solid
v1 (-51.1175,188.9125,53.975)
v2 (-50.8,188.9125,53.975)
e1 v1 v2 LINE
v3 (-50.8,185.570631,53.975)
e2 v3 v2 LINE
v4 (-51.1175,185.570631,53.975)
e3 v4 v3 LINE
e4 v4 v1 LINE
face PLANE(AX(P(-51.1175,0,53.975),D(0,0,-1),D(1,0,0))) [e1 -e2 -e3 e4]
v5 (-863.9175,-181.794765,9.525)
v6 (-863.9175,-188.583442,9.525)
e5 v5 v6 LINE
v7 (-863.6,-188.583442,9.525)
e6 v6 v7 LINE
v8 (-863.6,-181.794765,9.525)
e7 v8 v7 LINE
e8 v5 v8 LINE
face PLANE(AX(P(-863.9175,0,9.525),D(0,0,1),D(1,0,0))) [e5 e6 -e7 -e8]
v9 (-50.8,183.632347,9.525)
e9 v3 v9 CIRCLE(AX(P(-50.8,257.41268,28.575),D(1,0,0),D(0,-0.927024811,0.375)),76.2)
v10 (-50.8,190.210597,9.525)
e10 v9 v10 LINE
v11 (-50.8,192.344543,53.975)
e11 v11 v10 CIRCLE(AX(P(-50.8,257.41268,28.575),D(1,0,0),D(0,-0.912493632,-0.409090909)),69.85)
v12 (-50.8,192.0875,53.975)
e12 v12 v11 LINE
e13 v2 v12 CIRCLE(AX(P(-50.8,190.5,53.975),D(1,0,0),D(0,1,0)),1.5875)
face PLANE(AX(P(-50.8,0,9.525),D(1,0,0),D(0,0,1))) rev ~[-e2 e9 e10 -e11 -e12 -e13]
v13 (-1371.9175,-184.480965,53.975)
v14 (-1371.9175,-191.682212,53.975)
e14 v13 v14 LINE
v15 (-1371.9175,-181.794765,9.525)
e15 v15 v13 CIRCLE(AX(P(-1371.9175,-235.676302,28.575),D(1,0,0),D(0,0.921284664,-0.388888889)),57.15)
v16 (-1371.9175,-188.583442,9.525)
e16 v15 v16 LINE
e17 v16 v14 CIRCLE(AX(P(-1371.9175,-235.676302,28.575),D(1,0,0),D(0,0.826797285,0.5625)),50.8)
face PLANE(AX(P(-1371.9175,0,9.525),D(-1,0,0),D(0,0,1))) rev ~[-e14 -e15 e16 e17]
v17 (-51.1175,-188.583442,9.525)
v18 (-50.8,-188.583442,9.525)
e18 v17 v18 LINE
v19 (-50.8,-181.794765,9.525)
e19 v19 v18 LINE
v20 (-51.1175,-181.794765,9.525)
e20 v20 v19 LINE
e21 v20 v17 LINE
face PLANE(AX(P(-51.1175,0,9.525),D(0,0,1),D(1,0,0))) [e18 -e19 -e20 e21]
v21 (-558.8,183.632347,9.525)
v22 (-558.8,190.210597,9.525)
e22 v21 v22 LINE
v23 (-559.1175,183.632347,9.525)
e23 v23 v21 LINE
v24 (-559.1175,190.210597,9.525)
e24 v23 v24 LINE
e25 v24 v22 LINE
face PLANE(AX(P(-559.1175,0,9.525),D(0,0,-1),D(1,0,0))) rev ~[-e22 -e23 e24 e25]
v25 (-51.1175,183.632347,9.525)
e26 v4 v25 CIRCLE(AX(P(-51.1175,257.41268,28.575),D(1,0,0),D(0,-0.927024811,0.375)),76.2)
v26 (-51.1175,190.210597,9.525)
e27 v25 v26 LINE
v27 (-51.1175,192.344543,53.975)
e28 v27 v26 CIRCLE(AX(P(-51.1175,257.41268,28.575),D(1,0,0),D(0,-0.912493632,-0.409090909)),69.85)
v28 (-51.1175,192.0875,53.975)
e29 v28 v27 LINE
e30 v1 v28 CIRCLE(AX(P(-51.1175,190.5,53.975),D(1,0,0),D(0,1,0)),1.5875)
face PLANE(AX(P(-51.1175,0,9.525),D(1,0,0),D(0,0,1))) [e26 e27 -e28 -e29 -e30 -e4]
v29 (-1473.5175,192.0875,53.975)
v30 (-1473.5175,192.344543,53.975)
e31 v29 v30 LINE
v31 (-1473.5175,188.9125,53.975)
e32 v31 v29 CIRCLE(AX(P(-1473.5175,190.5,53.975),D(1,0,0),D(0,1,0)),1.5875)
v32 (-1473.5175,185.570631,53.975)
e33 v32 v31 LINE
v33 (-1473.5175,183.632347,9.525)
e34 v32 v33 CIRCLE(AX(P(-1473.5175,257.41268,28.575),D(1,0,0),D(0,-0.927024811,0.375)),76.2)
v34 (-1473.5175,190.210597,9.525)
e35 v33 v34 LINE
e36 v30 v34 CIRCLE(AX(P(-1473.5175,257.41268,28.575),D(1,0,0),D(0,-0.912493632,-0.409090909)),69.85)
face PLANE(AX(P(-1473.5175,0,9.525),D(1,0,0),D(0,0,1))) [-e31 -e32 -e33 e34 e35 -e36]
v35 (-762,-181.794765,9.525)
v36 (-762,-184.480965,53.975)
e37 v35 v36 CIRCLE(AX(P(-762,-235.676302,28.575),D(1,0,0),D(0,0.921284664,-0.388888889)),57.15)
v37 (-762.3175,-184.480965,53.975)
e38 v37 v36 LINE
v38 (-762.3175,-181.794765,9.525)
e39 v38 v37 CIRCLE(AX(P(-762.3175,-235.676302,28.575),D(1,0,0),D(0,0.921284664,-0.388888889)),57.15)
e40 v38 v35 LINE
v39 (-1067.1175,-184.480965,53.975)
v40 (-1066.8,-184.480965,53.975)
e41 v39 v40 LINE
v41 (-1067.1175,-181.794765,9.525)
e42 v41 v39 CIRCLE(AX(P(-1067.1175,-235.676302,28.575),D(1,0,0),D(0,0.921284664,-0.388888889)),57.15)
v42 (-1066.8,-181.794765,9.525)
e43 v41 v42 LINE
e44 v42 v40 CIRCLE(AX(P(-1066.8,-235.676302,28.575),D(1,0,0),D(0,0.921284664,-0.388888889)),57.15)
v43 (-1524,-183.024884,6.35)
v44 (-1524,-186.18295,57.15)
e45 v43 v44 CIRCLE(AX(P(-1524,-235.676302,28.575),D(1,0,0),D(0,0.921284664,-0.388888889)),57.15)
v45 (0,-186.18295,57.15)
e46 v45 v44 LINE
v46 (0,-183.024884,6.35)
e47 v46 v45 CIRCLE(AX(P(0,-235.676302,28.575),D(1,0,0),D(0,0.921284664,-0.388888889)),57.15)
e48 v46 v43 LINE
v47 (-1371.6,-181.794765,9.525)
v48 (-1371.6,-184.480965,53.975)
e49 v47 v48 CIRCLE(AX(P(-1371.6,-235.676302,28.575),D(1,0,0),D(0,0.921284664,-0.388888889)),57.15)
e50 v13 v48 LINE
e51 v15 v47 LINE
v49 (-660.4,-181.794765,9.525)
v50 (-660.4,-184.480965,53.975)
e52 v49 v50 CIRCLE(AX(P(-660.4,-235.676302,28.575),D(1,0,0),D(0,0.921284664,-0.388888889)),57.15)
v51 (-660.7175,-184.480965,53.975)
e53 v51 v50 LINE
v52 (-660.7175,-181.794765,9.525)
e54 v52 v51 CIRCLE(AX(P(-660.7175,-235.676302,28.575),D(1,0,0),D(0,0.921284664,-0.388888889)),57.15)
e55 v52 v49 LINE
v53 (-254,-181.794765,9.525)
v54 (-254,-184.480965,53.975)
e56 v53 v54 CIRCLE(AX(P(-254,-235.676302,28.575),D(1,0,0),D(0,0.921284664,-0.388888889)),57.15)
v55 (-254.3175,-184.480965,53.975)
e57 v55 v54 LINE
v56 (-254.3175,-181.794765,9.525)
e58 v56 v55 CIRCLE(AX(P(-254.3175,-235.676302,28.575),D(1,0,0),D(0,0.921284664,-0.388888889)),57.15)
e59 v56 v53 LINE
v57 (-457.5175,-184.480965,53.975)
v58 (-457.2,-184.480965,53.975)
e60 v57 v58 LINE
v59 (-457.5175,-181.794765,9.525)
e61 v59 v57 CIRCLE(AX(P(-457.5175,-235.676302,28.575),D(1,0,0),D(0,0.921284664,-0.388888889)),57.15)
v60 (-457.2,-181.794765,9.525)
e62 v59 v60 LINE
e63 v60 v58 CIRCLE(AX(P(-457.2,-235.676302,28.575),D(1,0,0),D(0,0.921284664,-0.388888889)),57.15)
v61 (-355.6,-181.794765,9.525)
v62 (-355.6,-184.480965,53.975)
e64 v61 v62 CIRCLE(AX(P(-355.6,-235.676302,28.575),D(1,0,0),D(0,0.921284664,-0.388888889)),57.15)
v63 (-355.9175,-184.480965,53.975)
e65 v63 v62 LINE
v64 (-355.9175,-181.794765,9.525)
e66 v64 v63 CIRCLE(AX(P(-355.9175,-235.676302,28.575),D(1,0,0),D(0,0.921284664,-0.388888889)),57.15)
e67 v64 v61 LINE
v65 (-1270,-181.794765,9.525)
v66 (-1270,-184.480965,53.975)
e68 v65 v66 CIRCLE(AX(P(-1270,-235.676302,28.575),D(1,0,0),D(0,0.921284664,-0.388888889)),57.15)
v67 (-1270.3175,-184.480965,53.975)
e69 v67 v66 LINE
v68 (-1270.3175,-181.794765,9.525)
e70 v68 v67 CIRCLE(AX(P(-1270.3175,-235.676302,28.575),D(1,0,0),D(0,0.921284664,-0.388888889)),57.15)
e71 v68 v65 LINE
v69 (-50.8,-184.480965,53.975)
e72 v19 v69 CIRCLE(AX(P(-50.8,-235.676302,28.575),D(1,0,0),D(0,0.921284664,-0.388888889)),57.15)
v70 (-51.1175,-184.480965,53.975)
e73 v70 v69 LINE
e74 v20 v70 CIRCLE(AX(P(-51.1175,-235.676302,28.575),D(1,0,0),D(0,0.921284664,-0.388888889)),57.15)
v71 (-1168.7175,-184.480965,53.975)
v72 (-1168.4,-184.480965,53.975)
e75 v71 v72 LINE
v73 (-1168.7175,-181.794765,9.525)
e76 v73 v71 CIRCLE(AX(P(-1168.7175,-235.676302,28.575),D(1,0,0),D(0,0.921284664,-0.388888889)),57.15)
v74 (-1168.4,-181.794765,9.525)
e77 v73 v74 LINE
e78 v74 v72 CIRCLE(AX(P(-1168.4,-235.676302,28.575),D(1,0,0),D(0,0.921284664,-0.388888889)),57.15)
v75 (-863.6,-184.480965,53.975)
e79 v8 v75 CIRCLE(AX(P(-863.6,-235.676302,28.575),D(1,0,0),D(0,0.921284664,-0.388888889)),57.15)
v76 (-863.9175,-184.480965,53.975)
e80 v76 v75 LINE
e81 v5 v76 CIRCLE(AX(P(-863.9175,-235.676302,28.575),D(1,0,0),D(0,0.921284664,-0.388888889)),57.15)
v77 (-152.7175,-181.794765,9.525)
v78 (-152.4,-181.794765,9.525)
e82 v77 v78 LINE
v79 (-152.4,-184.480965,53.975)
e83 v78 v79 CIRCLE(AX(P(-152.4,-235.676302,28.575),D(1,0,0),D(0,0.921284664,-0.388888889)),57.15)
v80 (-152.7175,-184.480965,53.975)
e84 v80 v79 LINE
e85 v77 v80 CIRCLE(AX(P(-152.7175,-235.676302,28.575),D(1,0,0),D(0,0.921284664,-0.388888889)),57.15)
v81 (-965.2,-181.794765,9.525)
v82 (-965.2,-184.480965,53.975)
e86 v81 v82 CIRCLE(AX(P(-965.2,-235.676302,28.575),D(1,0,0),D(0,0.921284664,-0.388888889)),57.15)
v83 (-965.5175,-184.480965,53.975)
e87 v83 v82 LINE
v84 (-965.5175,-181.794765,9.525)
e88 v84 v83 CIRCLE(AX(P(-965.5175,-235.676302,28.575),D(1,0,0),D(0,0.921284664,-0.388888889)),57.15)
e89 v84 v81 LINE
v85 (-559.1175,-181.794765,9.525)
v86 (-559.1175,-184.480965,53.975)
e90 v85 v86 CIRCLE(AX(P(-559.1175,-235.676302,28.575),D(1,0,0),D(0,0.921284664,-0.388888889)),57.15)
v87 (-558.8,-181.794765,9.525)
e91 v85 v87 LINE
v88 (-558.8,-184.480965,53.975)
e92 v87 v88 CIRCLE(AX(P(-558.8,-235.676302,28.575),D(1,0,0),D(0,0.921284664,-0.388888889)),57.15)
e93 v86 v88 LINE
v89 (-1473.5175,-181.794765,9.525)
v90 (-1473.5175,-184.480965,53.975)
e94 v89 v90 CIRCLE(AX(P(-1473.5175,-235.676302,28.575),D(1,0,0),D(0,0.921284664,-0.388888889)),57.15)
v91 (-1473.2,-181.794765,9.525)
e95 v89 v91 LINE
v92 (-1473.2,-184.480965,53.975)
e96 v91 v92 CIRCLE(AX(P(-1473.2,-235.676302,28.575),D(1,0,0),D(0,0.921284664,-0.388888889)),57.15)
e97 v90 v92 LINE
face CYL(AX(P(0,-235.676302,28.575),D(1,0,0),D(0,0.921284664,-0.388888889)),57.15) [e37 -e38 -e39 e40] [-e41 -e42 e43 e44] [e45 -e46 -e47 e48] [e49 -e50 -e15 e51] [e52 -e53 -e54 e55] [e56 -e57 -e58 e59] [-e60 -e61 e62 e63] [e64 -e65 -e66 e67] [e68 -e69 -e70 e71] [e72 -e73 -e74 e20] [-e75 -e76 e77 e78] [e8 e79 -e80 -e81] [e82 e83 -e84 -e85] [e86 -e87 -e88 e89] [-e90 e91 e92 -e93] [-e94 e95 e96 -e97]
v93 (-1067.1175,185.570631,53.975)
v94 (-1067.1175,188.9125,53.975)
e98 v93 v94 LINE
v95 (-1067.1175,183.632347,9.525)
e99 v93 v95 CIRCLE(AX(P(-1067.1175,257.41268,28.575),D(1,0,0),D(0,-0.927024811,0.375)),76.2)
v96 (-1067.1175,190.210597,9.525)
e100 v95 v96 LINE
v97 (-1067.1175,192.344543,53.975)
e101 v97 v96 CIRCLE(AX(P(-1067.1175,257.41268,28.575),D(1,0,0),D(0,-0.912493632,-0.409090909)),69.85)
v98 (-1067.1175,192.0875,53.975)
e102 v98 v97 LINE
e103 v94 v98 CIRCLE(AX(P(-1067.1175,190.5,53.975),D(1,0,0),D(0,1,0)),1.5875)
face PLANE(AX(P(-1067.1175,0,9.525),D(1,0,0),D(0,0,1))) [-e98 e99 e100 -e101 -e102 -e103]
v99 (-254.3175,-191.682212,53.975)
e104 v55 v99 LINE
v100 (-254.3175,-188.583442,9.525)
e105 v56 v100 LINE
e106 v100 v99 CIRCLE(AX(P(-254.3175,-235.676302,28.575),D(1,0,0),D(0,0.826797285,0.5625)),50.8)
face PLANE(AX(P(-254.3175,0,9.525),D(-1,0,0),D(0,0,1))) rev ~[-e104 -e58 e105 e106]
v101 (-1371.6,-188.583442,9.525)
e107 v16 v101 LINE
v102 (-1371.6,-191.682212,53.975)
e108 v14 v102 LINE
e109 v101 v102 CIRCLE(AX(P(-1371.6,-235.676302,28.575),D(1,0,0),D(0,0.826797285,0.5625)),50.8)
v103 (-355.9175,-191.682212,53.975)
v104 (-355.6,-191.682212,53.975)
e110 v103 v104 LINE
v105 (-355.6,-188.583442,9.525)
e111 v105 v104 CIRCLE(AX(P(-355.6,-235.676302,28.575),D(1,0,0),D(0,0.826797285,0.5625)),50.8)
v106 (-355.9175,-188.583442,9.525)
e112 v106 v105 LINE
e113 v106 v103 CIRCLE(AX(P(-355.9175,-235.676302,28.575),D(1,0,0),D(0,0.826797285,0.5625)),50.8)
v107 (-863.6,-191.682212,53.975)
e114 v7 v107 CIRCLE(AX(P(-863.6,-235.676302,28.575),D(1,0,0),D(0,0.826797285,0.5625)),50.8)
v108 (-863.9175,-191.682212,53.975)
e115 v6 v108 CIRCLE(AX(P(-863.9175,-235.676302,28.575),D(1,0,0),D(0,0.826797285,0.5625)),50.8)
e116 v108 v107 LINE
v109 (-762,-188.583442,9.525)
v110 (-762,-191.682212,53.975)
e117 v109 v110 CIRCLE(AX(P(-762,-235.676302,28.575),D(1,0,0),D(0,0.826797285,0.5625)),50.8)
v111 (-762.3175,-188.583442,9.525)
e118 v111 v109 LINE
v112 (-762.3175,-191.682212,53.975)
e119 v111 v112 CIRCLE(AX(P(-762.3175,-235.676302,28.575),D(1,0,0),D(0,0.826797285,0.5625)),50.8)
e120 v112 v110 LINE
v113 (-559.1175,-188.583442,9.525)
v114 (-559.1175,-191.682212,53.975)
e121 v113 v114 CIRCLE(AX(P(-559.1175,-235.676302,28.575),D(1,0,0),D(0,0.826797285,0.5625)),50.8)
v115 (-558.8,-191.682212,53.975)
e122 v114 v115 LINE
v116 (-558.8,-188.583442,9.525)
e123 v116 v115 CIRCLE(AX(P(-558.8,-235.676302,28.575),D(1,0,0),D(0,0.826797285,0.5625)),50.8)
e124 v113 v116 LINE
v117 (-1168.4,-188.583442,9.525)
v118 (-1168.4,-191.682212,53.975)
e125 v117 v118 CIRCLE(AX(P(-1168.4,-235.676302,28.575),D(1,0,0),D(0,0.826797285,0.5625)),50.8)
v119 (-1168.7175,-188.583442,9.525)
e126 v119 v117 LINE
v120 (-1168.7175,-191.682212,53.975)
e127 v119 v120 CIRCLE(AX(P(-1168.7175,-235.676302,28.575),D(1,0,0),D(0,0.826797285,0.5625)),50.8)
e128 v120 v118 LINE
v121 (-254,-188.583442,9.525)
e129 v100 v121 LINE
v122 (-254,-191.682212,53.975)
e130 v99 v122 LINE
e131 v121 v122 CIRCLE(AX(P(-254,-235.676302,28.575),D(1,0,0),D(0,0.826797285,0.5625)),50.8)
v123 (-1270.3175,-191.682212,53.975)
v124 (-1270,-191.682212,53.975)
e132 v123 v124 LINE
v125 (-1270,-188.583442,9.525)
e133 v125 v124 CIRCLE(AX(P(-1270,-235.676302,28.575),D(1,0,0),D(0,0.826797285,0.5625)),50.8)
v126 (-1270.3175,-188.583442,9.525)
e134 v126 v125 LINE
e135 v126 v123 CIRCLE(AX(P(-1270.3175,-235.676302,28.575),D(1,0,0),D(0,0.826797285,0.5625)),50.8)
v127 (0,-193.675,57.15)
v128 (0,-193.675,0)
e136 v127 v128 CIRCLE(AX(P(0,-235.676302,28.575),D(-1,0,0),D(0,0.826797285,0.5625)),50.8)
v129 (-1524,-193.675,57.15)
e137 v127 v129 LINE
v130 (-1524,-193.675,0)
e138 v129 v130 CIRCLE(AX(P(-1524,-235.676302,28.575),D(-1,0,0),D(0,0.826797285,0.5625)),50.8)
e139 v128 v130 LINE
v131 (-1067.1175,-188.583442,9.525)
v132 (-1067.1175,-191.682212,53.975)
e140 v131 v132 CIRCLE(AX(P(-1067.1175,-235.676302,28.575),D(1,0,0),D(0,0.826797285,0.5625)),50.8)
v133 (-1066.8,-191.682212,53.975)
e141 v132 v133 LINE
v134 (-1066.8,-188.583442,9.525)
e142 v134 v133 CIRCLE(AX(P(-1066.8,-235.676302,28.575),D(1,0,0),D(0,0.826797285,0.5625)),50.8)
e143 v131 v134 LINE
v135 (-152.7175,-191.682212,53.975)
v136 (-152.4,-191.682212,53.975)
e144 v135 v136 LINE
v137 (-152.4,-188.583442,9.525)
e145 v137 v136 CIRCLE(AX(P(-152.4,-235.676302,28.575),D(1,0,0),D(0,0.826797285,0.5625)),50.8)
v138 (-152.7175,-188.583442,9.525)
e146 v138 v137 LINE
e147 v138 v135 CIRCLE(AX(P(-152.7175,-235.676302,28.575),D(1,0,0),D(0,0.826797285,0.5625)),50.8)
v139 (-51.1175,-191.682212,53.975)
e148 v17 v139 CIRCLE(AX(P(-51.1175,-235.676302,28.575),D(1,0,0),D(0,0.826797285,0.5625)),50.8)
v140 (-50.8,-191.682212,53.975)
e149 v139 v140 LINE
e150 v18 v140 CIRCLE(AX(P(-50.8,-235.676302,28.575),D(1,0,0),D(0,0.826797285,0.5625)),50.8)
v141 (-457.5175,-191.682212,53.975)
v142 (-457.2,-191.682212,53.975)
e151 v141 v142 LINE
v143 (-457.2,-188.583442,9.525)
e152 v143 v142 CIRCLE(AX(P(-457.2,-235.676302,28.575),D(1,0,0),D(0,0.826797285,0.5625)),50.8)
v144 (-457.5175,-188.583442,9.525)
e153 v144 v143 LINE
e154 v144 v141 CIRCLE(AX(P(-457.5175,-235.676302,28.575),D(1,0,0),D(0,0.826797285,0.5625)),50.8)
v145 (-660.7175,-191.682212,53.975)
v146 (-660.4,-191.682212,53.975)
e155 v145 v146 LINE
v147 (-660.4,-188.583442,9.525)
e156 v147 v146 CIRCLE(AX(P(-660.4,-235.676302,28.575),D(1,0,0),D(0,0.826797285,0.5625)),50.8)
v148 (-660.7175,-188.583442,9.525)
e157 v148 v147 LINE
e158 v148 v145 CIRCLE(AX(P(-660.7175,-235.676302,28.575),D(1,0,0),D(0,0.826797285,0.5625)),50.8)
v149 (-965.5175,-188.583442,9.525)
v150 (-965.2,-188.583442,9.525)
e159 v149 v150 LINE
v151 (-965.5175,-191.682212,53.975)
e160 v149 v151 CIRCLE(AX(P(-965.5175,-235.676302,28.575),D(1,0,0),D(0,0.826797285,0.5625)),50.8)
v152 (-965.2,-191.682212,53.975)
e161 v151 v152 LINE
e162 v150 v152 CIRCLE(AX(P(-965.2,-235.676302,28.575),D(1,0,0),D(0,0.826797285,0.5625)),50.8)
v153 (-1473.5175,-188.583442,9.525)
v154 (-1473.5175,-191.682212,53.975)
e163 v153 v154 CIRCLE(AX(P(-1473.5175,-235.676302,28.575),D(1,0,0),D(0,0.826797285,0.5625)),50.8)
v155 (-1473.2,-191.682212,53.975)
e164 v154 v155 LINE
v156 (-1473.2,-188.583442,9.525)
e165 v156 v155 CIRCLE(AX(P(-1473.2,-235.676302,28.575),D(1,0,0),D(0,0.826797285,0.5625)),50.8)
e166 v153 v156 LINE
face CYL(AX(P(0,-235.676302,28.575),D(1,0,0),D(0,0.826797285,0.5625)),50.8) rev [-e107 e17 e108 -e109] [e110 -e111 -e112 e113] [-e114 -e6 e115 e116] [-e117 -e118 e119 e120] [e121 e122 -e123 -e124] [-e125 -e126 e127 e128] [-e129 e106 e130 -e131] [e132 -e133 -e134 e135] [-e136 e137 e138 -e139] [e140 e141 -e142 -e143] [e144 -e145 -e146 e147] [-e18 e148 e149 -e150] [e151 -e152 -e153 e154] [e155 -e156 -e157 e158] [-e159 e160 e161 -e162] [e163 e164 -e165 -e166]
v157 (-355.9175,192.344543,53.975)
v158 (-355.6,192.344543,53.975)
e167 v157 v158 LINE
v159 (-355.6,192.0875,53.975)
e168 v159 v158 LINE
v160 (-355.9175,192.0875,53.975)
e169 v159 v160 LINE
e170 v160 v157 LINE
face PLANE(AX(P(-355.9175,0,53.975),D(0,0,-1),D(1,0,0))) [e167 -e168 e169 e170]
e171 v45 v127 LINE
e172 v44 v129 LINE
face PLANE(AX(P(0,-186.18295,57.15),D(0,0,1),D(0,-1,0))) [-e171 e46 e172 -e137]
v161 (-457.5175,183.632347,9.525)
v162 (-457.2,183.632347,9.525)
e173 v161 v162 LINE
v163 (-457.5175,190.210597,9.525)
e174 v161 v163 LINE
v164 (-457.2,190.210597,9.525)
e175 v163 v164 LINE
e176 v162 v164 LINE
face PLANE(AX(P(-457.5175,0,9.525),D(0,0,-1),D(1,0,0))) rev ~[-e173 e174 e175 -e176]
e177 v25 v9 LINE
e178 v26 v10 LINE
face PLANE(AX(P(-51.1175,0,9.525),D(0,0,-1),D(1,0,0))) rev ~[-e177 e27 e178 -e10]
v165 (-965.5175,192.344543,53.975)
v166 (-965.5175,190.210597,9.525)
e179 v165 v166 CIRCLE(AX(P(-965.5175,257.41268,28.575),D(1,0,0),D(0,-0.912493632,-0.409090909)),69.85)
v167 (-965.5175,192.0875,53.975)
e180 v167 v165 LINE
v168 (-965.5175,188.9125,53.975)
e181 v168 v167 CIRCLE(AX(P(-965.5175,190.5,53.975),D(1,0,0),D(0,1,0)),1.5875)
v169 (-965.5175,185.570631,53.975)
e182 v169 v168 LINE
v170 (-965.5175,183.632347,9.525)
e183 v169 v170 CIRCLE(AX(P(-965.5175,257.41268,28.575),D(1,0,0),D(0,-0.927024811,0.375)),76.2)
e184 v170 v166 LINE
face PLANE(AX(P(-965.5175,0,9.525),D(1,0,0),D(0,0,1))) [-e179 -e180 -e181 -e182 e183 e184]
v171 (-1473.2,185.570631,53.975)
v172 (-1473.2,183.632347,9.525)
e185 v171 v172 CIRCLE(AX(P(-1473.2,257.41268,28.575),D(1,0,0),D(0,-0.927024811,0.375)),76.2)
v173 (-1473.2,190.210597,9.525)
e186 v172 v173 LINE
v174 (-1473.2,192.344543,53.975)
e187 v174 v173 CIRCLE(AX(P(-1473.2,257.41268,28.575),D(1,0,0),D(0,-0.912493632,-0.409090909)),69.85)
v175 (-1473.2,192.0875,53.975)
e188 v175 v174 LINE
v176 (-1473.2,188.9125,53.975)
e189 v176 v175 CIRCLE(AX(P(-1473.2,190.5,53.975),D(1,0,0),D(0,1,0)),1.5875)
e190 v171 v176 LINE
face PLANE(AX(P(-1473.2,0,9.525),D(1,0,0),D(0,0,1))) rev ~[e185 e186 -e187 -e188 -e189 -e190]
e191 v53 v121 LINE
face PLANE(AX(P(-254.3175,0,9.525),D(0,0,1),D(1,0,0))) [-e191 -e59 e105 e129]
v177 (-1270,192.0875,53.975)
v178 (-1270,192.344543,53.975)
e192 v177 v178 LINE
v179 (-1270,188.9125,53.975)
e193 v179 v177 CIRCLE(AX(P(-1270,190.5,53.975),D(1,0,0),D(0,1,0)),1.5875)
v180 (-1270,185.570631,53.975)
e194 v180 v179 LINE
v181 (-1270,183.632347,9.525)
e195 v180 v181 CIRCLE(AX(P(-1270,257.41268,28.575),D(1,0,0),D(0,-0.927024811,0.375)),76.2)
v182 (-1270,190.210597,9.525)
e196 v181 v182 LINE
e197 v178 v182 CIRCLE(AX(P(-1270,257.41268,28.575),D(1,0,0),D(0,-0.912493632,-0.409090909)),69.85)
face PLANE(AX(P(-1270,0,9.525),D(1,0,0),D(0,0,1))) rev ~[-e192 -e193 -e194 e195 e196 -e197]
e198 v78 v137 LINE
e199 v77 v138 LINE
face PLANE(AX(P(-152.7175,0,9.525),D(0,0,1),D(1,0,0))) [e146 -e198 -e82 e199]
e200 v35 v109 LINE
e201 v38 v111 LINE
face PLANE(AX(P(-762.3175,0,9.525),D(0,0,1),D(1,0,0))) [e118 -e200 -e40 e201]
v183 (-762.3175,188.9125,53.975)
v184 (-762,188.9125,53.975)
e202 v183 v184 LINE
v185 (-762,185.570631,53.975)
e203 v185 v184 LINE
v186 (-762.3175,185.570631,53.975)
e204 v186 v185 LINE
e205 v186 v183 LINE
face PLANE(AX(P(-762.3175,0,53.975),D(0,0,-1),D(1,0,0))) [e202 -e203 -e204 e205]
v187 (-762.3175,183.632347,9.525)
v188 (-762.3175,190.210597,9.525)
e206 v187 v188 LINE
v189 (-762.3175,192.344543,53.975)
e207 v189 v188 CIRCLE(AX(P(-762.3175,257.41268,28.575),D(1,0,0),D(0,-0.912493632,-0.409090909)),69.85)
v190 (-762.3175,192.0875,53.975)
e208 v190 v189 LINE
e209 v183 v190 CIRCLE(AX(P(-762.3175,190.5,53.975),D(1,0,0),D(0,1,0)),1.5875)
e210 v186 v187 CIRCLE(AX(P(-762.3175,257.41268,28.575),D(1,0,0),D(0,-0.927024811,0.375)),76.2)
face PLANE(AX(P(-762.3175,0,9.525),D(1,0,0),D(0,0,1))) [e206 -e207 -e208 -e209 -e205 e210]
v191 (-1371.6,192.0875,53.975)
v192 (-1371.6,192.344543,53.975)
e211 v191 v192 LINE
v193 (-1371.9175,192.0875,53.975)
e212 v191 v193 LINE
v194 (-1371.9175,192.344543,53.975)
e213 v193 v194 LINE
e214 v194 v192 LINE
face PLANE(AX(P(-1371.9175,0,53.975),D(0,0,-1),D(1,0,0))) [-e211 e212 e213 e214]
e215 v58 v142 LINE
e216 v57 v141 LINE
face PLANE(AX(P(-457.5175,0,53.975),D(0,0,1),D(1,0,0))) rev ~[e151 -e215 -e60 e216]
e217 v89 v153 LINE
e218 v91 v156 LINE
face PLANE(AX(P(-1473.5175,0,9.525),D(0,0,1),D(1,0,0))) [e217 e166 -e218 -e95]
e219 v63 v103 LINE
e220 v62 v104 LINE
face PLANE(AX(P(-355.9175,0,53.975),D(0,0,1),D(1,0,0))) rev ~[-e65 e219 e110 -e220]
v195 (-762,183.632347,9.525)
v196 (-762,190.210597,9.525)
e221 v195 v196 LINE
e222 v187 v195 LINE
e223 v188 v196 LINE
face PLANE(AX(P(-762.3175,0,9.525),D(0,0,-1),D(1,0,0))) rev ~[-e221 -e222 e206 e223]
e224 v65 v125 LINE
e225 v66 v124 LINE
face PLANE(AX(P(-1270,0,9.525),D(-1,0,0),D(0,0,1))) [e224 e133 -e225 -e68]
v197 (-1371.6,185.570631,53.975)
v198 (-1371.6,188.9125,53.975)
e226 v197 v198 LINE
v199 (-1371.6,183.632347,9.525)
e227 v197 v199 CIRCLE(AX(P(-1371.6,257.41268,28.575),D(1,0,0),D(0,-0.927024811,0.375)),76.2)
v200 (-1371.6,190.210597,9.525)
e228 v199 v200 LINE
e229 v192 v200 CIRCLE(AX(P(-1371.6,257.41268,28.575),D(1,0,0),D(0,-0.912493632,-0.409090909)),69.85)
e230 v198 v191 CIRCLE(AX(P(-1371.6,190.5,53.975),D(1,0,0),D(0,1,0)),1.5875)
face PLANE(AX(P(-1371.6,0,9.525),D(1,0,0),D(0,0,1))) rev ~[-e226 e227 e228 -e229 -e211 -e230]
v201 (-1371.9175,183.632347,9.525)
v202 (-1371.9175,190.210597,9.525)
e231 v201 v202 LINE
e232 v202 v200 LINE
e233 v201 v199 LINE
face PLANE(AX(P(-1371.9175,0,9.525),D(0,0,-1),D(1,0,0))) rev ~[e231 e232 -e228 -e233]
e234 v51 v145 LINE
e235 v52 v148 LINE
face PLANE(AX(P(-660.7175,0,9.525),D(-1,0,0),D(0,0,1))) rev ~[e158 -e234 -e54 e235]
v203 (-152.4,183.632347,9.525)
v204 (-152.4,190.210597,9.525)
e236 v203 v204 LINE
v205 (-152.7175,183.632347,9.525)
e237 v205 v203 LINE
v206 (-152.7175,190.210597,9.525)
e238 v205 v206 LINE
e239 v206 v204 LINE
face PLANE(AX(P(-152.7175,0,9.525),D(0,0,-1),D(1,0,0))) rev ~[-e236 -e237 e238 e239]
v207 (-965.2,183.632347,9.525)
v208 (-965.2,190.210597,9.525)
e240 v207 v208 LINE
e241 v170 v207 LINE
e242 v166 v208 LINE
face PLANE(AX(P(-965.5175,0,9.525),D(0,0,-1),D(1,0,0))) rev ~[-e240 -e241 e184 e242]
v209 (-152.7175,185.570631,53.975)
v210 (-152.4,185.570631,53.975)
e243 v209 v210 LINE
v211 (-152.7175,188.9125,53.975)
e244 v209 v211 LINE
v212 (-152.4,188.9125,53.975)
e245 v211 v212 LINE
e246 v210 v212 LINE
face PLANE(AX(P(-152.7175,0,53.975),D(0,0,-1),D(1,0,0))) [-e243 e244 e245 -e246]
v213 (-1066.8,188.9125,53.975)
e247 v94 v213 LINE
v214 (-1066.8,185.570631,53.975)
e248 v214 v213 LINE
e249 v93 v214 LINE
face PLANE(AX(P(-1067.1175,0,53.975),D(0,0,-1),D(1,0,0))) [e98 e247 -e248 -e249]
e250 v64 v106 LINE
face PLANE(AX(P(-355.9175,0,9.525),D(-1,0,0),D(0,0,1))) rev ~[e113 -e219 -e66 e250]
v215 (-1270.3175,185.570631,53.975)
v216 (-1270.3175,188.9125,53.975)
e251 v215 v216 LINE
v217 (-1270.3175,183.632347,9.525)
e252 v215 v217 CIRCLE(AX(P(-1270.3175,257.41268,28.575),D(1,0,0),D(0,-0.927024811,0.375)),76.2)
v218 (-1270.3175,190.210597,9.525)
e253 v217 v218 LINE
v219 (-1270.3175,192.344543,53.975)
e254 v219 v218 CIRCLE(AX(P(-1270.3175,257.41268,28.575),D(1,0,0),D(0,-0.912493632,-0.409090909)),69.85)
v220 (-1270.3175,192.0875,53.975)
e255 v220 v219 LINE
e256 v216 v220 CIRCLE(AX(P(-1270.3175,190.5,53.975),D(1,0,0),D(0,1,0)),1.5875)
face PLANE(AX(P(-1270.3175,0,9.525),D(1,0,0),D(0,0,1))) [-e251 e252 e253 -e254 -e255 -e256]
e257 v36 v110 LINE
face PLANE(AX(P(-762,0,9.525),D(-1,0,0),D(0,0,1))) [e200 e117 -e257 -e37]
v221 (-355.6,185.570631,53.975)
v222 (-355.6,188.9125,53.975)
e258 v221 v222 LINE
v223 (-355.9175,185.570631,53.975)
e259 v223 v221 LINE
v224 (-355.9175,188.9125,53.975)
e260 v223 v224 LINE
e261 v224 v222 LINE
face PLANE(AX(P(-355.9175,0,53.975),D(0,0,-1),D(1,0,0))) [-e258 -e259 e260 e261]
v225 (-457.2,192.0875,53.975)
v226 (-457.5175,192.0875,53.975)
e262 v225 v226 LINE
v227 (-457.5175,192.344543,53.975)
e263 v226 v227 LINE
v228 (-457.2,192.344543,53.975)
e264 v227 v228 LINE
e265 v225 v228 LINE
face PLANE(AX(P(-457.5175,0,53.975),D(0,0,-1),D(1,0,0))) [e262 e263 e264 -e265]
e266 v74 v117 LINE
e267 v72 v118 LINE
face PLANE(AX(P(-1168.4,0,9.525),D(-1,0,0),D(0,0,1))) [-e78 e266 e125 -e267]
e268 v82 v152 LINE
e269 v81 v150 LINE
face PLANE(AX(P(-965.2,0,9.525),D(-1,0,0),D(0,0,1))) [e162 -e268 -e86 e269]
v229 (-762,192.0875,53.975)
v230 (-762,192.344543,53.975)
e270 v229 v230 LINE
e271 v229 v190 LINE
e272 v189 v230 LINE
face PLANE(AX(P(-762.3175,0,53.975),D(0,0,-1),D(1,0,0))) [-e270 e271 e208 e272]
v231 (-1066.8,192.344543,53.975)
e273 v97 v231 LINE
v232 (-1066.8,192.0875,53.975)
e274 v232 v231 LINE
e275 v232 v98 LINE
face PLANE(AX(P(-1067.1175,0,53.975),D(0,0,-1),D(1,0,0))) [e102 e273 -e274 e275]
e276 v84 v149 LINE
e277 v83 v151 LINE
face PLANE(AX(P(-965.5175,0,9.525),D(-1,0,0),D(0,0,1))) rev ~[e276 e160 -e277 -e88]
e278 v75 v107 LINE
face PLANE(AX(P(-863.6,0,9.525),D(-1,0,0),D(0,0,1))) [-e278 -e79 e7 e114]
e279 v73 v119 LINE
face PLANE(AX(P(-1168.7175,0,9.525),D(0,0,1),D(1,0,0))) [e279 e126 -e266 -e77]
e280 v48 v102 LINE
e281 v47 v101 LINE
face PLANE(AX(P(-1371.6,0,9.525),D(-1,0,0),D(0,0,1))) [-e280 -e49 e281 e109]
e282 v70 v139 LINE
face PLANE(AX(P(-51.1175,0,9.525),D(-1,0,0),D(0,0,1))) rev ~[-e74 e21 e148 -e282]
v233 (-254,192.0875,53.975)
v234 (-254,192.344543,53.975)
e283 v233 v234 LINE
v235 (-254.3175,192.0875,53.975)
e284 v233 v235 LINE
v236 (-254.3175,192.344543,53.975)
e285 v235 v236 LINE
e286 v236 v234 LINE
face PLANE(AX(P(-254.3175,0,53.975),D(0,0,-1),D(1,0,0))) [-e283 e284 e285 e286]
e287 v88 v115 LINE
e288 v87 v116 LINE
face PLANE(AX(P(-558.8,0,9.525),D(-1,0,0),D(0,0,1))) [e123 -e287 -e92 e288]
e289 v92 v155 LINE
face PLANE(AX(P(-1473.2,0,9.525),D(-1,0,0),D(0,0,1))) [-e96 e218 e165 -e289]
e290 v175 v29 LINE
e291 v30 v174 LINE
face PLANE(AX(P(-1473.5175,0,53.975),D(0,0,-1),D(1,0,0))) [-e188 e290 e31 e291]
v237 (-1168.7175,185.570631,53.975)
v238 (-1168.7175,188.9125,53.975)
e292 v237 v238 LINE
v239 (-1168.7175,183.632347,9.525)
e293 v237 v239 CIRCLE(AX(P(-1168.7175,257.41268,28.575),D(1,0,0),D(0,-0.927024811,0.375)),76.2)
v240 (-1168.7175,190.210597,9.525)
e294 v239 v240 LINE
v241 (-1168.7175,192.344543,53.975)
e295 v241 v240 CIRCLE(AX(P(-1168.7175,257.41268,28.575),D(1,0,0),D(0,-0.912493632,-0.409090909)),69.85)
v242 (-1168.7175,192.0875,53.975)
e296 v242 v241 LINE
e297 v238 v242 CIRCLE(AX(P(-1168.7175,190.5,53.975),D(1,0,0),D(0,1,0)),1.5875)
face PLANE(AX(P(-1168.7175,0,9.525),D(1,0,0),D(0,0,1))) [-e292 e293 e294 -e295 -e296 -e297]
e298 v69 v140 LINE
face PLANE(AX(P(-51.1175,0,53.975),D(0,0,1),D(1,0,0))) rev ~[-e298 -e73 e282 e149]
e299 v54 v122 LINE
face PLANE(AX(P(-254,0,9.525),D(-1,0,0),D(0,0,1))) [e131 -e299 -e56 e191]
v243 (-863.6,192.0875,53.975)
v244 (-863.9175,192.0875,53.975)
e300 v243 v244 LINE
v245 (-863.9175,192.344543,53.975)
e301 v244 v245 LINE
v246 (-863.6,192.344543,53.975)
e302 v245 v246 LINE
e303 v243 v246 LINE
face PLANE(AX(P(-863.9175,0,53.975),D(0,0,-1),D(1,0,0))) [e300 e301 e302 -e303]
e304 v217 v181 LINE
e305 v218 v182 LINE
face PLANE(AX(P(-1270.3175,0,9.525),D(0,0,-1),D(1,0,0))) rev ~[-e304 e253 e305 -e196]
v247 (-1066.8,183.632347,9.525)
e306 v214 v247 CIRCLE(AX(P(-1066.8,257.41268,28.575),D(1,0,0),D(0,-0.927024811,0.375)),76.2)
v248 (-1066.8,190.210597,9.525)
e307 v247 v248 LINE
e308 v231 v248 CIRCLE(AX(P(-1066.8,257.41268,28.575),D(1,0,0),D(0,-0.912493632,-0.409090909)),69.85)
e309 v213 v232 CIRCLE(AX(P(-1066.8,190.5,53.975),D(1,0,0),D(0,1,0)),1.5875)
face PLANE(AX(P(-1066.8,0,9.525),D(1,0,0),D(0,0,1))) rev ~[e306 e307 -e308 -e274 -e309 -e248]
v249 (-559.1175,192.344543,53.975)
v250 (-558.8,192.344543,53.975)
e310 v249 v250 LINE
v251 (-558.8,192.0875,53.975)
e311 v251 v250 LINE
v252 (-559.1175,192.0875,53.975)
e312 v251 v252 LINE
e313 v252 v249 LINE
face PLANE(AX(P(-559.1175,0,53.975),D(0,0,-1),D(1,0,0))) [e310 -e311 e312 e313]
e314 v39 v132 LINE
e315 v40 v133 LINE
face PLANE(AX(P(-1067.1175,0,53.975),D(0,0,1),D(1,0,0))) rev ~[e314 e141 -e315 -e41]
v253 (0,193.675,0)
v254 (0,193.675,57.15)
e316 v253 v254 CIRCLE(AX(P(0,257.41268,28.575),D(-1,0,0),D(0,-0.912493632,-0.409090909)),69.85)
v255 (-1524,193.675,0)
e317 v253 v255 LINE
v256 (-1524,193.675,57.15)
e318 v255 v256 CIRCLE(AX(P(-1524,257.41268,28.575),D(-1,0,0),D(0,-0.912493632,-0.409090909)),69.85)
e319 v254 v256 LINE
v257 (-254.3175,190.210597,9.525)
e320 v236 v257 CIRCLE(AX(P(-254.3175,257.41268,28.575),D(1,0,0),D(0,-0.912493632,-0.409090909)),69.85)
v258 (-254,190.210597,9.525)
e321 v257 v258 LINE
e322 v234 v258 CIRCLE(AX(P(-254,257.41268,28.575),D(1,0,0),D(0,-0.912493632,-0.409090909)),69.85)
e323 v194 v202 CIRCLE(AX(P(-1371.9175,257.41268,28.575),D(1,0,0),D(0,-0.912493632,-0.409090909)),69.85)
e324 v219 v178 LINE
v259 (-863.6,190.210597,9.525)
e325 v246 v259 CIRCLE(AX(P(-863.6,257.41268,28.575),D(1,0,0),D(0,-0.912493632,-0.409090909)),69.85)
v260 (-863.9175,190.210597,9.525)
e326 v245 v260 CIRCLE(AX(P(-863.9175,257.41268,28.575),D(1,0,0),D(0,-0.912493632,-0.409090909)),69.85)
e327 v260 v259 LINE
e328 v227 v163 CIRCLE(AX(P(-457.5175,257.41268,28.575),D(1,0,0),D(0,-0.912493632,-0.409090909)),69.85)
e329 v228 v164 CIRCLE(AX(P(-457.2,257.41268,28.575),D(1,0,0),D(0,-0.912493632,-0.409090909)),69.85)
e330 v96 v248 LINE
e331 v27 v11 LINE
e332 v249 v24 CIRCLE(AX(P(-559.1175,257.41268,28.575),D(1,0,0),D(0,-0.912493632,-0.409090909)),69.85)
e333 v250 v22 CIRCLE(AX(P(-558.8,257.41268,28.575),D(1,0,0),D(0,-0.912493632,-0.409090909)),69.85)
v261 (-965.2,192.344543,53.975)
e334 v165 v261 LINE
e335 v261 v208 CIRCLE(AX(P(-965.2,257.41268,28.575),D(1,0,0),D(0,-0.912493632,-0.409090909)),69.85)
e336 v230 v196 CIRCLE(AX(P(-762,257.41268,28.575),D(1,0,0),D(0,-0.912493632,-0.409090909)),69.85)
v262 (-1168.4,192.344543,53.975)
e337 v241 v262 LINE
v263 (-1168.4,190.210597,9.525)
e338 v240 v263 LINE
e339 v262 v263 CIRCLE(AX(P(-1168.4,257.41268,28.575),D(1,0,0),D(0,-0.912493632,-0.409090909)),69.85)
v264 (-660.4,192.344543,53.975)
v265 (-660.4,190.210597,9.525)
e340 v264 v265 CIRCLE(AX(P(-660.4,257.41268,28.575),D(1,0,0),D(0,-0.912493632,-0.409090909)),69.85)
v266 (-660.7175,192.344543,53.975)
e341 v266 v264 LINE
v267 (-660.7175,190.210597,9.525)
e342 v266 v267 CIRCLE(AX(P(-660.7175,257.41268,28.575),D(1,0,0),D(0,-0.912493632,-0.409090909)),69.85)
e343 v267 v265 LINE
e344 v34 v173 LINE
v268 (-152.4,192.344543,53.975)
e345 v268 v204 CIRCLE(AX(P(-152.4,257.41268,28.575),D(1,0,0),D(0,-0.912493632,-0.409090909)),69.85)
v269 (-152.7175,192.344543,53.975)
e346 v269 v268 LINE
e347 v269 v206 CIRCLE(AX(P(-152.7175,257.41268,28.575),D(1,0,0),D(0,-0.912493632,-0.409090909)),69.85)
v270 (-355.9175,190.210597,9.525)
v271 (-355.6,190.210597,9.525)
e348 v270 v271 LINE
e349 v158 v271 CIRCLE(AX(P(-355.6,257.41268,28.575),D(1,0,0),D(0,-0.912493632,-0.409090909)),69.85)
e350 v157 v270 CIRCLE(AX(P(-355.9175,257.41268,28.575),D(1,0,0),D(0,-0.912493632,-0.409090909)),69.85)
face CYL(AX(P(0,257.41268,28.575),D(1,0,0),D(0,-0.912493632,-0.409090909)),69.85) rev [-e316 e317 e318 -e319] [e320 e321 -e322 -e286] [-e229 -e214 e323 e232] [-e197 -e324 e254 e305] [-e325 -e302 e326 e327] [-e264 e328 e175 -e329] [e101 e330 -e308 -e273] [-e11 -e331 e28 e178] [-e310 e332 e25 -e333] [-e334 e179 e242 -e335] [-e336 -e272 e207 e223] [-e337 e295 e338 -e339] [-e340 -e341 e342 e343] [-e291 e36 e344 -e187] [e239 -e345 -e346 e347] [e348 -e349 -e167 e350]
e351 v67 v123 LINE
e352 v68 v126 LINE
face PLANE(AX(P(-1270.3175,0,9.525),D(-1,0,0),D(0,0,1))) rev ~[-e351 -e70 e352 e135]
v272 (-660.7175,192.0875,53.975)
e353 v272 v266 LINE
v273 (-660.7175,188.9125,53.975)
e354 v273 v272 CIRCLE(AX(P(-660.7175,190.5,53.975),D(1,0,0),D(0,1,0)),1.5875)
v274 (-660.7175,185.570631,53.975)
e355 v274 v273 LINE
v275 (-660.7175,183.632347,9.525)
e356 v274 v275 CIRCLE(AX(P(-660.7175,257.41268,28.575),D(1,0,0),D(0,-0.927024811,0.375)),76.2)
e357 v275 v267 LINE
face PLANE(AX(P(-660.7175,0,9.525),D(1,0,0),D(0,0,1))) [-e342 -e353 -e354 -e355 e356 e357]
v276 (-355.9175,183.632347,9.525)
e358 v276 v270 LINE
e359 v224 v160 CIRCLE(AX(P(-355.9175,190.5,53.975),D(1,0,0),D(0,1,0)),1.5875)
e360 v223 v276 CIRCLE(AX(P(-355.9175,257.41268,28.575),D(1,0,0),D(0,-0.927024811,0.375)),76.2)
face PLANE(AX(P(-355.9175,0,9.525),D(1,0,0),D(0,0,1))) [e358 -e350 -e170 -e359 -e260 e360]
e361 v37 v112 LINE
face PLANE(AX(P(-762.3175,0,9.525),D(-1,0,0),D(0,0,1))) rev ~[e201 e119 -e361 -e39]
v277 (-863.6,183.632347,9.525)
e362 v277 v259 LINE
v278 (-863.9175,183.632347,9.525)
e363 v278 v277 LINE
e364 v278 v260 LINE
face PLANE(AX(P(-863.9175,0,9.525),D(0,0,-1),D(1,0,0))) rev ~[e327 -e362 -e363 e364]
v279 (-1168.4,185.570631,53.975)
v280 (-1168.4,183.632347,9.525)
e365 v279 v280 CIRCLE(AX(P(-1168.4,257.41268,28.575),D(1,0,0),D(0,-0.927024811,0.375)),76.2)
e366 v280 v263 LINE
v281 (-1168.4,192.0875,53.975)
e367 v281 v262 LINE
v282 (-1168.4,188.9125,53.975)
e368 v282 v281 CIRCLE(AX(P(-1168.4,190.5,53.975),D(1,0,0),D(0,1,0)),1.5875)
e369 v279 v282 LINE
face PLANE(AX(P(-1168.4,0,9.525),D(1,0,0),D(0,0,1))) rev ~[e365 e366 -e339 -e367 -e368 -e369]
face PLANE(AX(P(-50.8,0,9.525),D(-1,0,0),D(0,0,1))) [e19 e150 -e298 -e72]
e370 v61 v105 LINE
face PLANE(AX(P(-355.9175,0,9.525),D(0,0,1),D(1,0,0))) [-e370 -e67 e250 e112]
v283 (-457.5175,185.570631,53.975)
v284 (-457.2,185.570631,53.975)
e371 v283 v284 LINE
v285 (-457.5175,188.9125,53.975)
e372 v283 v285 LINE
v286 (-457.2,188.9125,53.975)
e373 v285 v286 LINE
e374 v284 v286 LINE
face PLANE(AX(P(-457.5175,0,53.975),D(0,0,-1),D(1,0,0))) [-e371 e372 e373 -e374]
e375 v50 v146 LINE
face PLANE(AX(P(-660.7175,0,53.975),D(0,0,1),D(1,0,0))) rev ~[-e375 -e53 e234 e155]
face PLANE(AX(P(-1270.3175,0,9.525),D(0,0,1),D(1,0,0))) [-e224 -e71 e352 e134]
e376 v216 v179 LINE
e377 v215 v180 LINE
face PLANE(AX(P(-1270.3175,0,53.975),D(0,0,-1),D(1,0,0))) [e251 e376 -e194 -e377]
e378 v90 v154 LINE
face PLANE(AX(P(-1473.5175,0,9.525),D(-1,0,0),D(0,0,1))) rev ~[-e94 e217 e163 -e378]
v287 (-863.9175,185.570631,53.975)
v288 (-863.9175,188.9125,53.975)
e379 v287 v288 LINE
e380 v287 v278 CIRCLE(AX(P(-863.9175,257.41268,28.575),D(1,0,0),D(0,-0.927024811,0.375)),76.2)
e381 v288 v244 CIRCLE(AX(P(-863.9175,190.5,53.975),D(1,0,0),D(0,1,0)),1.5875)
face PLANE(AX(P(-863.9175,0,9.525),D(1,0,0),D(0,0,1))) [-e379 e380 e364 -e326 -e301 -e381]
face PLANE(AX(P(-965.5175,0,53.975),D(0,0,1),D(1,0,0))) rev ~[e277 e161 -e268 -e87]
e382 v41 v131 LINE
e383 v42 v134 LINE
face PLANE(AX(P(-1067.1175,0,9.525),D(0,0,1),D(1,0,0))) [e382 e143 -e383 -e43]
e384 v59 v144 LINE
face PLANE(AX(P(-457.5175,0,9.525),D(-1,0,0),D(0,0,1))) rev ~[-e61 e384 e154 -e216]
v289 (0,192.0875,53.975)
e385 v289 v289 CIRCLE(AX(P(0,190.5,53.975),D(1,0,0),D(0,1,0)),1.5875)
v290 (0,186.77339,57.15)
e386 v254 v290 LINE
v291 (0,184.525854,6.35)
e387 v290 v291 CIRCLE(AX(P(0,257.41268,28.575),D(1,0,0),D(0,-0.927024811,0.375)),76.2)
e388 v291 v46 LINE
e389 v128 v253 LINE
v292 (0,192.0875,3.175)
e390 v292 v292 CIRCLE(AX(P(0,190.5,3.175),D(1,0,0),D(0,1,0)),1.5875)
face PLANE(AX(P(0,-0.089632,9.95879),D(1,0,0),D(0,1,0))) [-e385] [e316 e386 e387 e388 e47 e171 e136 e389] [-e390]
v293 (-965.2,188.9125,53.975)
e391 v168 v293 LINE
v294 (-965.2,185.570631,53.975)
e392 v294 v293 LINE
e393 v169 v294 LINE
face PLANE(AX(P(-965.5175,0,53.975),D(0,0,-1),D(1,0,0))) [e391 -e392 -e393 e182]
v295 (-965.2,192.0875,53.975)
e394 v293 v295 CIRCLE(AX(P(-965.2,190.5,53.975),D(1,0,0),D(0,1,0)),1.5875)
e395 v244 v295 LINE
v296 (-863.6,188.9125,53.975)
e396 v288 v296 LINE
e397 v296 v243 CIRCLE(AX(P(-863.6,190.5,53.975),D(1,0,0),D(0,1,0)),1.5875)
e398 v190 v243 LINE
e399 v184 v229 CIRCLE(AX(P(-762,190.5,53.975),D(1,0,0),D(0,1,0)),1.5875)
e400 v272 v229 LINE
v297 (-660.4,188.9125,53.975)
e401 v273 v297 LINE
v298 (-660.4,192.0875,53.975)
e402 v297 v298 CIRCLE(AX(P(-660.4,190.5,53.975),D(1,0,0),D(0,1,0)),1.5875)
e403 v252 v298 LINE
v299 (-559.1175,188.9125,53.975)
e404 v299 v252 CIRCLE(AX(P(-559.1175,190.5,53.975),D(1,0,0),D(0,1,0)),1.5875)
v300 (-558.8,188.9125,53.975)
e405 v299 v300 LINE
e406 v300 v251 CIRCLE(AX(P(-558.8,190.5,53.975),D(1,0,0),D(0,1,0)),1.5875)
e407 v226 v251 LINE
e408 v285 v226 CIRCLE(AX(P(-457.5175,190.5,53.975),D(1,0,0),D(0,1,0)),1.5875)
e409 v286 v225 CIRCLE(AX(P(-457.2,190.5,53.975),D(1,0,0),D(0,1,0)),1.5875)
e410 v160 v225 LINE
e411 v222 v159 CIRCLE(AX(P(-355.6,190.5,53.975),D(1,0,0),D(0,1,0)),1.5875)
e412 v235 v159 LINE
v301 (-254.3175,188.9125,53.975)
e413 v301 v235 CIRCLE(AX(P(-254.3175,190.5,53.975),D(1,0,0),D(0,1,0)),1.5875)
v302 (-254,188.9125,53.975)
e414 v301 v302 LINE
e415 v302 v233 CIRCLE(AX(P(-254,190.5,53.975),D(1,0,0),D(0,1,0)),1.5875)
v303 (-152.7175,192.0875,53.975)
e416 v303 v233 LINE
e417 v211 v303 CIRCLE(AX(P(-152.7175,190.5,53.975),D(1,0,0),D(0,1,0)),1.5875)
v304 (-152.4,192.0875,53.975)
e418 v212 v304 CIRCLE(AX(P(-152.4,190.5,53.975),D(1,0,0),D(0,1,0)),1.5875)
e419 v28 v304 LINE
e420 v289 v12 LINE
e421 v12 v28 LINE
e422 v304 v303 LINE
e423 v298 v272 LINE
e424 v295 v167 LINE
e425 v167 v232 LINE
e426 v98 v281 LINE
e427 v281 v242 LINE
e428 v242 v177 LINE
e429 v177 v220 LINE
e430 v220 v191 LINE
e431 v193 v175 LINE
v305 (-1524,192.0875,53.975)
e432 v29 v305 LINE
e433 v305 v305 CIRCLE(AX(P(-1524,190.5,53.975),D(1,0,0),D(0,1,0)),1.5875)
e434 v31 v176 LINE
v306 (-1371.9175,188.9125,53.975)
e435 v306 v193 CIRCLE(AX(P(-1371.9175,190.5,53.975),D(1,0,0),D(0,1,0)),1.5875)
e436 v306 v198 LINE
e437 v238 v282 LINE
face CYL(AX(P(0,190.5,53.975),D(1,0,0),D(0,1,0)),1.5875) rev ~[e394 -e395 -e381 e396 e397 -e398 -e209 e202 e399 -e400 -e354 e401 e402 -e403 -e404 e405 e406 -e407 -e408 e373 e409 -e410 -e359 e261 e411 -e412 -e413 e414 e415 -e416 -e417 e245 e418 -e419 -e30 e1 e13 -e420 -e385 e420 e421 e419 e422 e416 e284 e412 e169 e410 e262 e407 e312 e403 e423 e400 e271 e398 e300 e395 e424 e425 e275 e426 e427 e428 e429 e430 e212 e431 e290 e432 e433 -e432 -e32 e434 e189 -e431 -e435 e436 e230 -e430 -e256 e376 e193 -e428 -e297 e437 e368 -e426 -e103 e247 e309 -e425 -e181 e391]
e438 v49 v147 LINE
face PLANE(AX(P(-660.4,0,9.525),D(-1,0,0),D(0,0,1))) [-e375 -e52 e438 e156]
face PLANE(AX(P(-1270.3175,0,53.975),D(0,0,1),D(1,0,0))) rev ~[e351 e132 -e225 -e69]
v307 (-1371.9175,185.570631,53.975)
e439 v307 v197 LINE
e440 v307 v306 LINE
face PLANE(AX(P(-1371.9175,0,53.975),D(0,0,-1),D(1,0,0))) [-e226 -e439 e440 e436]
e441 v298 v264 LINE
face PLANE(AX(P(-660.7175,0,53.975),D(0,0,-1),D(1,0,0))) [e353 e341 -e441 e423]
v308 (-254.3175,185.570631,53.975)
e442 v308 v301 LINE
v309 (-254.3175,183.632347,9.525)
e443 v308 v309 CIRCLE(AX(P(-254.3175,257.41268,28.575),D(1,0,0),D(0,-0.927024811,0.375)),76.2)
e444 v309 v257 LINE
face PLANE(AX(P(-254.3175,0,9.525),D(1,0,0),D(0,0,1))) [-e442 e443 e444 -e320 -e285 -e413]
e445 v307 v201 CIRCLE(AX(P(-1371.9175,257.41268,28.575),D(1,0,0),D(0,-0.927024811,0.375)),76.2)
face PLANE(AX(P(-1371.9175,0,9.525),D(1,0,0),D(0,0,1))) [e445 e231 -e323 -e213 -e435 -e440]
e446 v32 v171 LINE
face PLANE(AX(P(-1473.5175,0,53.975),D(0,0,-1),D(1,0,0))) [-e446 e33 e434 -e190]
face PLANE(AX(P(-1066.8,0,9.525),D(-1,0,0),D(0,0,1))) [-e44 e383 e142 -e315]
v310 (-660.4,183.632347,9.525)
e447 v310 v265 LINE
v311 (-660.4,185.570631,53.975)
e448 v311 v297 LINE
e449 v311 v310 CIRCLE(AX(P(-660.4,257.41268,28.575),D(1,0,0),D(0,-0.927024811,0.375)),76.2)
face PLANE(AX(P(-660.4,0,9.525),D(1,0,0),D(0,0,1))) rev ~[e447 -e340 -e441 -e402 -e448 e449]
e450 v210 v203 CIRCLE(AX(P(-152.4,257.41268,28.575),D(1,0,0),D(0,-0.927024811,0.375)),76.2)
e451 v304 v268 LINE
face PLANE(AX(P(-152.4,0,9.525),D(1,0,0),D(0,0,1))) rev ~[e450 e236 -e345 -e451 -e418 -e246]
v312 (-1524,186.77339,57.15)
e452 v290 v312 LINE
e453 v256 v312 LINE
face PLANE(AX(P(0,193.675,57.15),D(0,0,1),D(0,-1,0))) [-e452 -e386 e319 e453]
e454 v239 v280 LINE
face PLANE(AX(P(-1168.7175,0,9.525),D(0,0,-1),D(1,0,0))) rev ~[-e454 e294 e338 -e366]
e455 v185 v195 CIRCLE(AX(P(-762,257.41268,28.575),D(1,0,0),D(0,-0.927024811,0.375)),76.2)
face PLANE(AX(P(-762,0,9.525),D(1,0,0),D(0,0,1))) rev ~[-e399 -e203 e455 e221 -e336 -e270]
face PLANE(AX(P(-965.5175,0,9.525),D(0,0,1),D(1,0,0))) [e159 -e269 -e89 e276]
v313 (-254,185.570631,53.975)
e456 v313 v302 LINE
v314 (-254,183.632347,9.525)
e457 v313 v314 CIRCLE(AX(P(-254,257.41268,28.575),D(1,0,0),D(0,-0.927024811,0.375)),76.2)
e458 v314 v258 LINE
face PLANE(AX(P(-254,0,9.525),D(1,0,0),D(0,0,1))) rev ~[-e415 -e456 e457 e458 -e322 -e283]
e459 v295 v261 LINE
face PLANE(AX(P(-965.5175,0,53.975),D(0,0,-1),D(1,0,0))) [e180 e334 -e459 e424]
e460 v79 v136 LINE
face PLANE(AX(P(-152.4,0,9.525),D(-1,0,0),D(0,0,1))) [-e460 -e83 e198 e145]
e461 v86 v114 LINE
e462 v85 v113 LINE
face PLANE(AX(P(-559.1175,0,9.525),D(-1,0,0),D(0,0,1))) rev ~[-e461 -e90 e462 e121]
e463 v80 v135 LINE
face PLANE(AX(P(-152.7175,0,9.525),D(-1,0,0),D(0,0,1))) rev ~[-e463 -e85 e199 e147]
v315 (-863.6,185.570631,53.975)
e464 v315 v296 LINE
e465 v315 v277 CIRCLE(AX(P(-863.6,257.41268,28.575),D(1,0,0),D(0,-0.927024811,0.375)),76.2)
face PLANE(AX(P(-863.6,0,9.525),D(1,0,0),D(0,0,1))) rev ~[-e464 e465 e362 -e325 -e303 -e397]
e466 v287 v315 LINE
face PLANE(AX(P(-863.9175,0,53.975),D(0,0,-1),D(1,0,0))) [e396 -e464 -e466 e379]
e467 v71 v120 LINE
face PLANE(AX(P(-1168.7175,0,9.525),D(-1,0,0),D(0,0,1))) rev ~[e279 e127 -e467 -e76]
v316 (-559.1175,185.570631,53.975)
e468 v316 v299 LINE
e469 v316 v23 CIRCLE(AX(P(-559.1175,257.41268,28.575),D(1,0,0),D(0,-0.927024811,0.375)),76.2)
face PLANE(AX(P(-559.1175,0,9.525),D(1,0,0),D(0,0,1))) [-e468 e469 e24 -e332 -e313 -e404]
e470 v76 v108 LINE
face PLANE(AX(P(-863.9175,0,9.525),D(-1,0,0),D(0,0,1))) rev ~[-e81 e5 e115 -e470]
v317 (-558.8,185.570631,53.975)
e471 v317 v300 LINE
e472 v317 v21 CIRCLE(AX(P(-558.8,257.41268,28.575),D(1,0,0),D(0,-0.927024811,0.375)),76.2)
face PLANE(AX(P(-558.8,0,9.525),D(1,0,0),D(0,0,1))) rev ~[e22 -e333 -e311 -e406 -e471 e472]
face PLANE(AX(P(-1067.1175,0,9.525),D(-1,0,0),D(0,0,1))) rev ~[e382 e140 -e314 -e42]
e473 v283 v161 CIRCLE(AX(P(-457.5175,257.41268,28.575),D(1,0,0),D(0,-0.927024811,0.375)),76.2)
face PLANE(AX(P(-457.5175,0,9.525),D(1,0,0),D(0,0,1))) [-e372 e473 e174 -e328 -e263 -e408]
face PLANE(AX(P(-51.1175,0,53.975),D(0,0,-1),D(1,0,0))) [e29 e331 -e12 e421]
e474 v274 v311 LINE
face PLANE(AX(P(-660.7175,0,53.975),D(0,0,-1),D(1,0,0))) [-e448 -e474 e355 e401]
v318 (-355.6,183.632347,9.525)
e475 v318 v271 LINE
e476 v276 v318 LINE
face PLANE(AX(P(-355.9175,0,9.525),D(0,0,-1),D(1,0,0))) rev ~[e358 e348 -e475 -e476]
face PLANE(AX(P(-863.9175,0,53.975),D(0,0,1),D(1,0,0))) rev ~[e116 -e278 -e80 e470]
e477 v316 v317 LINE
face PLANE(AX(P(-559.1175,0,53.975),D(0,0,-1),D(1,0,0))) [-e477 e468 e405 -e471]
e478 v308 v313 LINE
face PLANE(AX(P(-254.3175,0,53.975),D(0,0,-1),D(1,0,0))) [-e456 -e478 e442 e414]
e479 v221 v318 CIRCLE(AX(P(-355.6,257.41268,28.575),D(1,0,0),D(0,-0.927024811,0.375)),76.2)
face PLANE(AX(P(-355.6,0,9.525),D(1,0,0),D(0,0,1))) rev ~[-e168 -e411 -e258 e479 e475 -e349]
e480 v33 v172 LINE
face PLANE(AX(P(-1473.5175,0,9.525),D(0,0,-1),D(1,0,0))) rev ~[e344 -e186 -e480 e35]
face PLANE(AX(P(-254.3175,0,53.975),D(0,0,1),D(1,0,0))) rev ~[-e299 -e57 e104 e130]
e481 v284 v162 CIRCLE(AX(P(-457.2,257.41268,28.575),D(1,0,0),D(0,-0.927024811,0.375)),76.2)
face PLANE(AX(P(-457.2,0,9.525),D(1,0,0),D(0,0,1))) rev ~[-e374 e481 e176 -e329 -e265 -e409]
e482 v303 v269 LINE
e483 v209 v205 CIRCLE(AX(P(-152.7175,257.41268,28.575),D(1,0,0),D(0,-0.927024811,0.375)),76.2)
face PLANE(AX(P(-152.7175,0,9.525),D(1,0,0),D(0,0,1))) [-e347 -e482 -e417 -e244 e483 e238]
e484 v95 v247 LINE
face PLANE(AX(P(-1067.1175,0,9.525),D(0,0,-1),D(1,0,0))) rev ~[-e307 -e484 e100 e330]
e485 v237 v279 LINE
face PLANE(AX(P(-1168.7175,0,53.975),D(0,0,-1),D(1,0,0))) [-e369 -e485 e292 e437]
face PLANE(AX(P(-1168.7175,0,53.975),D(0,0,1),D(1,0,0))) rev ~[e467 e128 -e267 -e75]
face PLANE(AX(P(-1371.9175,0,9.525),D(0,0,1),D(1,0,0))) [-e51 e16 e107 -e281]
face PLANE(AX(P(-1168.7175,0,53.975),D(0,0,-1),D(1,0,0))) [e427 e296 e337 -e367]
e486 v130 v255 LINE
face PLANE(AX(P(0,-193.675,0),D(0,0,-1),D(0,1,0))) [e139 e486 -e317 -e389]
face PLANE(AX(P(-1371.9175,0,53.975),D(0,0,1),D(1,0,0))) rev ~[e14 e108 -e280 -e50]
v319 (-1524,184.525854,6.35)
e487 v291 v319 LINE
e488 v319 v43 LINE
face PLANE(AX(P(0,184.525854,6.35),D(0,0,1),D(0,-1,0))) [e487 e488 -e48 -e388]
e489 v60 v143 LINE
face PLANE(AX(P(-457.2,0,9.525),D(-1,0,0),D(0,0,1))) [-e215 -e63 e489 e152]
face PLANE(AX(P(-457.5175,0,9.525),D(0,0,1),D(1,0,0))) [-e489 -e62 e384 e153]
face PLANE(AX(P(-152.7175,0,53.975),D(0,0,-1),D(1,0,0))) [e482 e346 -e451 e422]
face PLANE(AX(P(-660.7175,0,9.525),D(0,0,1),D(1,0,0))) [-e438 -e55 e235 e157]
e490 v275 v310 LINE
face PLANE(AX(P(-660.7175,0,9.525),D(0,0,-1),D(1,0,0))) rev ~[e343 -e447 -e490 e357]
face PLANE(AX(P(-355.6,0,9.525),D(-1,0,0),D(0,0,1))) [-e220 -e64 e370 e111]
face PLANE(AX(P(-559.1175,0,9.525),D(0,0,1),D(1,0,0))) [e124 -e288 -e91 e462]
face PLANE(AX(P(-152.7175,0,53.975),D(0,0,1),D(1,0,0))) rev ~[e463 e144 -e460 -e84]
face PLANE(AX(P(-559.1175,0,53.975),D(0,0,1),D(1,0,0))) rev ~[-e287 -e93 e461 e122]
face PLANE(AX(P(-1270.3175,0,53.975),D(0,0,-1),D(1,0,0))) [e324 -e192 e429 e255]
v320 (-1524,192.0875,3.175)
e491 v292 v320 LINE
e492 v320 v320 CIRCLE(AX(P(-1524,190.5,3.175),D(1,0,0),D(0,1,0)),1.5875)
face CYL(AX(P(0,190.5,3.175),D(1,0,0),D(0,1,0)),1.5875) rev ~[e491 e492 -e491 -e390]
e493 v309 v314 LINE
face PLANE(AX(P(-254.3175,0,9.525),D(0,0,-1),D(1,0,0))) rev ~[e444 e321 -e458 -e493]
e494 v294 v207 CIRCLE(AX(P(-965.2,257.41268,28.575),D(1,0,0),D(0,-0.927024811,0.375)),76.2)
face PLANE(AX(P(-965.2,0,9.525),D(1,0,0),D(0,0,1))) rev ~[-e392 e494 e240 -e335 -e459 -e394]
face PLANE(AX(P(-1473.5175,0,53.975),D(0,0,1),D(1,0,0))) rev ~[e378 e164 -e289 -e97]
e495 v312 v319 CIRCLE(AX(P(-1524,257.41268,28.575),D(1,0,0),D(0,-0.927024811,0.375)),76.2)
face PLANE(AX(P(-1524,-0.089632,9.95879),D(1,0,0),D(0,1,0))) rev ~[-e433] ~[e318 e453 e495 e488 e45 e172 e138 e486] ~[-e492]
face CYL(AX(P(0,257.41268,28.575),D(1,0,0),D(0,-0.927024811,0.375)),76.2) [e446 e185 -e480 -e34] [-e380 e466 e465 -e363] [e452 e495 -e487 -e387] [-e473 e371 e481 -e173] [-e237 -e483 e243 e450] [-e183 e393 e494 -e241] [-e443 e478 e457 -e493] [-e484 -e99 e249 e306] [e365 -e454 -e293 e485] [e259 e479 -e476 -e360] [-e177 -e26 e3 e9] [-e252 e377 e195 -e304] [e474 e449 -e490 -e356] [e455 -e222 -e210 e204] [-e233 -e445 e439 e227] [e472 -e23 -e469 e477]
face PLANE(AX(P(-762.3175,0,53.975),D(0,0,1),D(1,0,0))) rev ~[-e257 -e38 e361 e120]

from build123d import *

# Parameters (mm, degrees)
F1_DEPTH      = 1524
F2_R          = 1.5875
F3_DEPTH      = 1524.001
F4_W          = 0.3175
F4_H          = 44.45
F5_DEPTH      = 193.3445428183
F5_DEPTH_BACK = 192.6822115509


with BuildPart() as f1:
    # F0 (on Right) → F1 (new body)
    with BuildSketch(Plane.YZ):
        with BuildLine():
            ThreePointArc((-193.675, 57.15), (-184.8763020632, 28.575), (-193.675, 0))
            Line((-193.675, 0), (193.675, 0))
            ThreePointArc((193.675, 0), (187.5626801821, 28.575), (193.675, 57.15))
            Line((193.675, 57.15), (186.7733895925, 57.15))
            ThreePointArc((186.7733895925, 57.15), (181.2871488449, 31.94300811), (184.5258543835, 6.35))
            Line((184.5258543835, 6.35), (-183.0248835163, 6.35))
            ThreePointArc((-183.0248835163, 6.35), (-178.6364166438, 32.1209796041), (-186.1829502369, 57.15))
            Line((-186.1829502369, 57.15), (-193.675, 57.15))
        make_face()
    extrude(amount=-F1_DEPTH)

    # F2 (on face) → F3 (cut, through all)
    with BuildSketch(Plane.YZ):
        with Locations((190.5, 53.975)):
            Circle(F2_R)
        with Locations((190.5, 3.175)):
            Circle(F2_R)
    extrude(amount=-F3_DEPTH, mode=Mode.SUBTRACT)

    # F4 (on Front) → F5 (cut, two sides)
    with BuildSketch(Plane.XZ) as f5_sk:
        with Locations((-50.95875, 31.75)):
            Rectangle(F4_W, F4_H)
        with Locations((-152.55875, 31.75)):
            Rectangle(F4_W, F4_H)
        with Locations((-254.15875, 31.75)):
            Rectangle(F4_W, F4_H)
        with Locations((-355.75875, 31.75)):
            Rectangle(F4_W, F4_H)
        with Locations((-457.35875, 31.75)):
            Rectangle(F4_W, F4_H)
        with Locations((-558.95875, 31.75)):
            Rectangle(F4_W, F4_H)
        with Locations((-660.55875, 31.75)):
            Rectangle(F4_W, F4_H)
        with Locations((-762.15875, 31.75)):
            Rectangle(F4_W, F4_H)
        with Locations((-863.75875, 31.75)):
            Rectangle(F4_W, F4_H)
        with Locations((-965.35875, 31.75)):
            Rectangle(F4_W, F4_H)
        with Locations((-1066.95875, 31.75)):
            Rectangle(F4_W, F4_H)
        with Locations((-1168.55875, 31.75)):
            Rectangle(F4_W, F4_H)
        with Locations((-1270.15875, 31.75)):
            Rectangle(F4_W, F4_H)
        with Locations((-1371.75875, 31.75)):
            Rectangle(F4_W, F4_H)
        with Locations((-1473.35875, 31.75)):
            Rectangle(F4_W, F4_H)
    extrude(amount=-F5_DEPTH, mode=Mode.SUBTRACT)
    extrude(f5_sk.sketch, amount=F5_DEPTH_BACK, mode=Mode.SUBTRACT)


solid = f1.part
